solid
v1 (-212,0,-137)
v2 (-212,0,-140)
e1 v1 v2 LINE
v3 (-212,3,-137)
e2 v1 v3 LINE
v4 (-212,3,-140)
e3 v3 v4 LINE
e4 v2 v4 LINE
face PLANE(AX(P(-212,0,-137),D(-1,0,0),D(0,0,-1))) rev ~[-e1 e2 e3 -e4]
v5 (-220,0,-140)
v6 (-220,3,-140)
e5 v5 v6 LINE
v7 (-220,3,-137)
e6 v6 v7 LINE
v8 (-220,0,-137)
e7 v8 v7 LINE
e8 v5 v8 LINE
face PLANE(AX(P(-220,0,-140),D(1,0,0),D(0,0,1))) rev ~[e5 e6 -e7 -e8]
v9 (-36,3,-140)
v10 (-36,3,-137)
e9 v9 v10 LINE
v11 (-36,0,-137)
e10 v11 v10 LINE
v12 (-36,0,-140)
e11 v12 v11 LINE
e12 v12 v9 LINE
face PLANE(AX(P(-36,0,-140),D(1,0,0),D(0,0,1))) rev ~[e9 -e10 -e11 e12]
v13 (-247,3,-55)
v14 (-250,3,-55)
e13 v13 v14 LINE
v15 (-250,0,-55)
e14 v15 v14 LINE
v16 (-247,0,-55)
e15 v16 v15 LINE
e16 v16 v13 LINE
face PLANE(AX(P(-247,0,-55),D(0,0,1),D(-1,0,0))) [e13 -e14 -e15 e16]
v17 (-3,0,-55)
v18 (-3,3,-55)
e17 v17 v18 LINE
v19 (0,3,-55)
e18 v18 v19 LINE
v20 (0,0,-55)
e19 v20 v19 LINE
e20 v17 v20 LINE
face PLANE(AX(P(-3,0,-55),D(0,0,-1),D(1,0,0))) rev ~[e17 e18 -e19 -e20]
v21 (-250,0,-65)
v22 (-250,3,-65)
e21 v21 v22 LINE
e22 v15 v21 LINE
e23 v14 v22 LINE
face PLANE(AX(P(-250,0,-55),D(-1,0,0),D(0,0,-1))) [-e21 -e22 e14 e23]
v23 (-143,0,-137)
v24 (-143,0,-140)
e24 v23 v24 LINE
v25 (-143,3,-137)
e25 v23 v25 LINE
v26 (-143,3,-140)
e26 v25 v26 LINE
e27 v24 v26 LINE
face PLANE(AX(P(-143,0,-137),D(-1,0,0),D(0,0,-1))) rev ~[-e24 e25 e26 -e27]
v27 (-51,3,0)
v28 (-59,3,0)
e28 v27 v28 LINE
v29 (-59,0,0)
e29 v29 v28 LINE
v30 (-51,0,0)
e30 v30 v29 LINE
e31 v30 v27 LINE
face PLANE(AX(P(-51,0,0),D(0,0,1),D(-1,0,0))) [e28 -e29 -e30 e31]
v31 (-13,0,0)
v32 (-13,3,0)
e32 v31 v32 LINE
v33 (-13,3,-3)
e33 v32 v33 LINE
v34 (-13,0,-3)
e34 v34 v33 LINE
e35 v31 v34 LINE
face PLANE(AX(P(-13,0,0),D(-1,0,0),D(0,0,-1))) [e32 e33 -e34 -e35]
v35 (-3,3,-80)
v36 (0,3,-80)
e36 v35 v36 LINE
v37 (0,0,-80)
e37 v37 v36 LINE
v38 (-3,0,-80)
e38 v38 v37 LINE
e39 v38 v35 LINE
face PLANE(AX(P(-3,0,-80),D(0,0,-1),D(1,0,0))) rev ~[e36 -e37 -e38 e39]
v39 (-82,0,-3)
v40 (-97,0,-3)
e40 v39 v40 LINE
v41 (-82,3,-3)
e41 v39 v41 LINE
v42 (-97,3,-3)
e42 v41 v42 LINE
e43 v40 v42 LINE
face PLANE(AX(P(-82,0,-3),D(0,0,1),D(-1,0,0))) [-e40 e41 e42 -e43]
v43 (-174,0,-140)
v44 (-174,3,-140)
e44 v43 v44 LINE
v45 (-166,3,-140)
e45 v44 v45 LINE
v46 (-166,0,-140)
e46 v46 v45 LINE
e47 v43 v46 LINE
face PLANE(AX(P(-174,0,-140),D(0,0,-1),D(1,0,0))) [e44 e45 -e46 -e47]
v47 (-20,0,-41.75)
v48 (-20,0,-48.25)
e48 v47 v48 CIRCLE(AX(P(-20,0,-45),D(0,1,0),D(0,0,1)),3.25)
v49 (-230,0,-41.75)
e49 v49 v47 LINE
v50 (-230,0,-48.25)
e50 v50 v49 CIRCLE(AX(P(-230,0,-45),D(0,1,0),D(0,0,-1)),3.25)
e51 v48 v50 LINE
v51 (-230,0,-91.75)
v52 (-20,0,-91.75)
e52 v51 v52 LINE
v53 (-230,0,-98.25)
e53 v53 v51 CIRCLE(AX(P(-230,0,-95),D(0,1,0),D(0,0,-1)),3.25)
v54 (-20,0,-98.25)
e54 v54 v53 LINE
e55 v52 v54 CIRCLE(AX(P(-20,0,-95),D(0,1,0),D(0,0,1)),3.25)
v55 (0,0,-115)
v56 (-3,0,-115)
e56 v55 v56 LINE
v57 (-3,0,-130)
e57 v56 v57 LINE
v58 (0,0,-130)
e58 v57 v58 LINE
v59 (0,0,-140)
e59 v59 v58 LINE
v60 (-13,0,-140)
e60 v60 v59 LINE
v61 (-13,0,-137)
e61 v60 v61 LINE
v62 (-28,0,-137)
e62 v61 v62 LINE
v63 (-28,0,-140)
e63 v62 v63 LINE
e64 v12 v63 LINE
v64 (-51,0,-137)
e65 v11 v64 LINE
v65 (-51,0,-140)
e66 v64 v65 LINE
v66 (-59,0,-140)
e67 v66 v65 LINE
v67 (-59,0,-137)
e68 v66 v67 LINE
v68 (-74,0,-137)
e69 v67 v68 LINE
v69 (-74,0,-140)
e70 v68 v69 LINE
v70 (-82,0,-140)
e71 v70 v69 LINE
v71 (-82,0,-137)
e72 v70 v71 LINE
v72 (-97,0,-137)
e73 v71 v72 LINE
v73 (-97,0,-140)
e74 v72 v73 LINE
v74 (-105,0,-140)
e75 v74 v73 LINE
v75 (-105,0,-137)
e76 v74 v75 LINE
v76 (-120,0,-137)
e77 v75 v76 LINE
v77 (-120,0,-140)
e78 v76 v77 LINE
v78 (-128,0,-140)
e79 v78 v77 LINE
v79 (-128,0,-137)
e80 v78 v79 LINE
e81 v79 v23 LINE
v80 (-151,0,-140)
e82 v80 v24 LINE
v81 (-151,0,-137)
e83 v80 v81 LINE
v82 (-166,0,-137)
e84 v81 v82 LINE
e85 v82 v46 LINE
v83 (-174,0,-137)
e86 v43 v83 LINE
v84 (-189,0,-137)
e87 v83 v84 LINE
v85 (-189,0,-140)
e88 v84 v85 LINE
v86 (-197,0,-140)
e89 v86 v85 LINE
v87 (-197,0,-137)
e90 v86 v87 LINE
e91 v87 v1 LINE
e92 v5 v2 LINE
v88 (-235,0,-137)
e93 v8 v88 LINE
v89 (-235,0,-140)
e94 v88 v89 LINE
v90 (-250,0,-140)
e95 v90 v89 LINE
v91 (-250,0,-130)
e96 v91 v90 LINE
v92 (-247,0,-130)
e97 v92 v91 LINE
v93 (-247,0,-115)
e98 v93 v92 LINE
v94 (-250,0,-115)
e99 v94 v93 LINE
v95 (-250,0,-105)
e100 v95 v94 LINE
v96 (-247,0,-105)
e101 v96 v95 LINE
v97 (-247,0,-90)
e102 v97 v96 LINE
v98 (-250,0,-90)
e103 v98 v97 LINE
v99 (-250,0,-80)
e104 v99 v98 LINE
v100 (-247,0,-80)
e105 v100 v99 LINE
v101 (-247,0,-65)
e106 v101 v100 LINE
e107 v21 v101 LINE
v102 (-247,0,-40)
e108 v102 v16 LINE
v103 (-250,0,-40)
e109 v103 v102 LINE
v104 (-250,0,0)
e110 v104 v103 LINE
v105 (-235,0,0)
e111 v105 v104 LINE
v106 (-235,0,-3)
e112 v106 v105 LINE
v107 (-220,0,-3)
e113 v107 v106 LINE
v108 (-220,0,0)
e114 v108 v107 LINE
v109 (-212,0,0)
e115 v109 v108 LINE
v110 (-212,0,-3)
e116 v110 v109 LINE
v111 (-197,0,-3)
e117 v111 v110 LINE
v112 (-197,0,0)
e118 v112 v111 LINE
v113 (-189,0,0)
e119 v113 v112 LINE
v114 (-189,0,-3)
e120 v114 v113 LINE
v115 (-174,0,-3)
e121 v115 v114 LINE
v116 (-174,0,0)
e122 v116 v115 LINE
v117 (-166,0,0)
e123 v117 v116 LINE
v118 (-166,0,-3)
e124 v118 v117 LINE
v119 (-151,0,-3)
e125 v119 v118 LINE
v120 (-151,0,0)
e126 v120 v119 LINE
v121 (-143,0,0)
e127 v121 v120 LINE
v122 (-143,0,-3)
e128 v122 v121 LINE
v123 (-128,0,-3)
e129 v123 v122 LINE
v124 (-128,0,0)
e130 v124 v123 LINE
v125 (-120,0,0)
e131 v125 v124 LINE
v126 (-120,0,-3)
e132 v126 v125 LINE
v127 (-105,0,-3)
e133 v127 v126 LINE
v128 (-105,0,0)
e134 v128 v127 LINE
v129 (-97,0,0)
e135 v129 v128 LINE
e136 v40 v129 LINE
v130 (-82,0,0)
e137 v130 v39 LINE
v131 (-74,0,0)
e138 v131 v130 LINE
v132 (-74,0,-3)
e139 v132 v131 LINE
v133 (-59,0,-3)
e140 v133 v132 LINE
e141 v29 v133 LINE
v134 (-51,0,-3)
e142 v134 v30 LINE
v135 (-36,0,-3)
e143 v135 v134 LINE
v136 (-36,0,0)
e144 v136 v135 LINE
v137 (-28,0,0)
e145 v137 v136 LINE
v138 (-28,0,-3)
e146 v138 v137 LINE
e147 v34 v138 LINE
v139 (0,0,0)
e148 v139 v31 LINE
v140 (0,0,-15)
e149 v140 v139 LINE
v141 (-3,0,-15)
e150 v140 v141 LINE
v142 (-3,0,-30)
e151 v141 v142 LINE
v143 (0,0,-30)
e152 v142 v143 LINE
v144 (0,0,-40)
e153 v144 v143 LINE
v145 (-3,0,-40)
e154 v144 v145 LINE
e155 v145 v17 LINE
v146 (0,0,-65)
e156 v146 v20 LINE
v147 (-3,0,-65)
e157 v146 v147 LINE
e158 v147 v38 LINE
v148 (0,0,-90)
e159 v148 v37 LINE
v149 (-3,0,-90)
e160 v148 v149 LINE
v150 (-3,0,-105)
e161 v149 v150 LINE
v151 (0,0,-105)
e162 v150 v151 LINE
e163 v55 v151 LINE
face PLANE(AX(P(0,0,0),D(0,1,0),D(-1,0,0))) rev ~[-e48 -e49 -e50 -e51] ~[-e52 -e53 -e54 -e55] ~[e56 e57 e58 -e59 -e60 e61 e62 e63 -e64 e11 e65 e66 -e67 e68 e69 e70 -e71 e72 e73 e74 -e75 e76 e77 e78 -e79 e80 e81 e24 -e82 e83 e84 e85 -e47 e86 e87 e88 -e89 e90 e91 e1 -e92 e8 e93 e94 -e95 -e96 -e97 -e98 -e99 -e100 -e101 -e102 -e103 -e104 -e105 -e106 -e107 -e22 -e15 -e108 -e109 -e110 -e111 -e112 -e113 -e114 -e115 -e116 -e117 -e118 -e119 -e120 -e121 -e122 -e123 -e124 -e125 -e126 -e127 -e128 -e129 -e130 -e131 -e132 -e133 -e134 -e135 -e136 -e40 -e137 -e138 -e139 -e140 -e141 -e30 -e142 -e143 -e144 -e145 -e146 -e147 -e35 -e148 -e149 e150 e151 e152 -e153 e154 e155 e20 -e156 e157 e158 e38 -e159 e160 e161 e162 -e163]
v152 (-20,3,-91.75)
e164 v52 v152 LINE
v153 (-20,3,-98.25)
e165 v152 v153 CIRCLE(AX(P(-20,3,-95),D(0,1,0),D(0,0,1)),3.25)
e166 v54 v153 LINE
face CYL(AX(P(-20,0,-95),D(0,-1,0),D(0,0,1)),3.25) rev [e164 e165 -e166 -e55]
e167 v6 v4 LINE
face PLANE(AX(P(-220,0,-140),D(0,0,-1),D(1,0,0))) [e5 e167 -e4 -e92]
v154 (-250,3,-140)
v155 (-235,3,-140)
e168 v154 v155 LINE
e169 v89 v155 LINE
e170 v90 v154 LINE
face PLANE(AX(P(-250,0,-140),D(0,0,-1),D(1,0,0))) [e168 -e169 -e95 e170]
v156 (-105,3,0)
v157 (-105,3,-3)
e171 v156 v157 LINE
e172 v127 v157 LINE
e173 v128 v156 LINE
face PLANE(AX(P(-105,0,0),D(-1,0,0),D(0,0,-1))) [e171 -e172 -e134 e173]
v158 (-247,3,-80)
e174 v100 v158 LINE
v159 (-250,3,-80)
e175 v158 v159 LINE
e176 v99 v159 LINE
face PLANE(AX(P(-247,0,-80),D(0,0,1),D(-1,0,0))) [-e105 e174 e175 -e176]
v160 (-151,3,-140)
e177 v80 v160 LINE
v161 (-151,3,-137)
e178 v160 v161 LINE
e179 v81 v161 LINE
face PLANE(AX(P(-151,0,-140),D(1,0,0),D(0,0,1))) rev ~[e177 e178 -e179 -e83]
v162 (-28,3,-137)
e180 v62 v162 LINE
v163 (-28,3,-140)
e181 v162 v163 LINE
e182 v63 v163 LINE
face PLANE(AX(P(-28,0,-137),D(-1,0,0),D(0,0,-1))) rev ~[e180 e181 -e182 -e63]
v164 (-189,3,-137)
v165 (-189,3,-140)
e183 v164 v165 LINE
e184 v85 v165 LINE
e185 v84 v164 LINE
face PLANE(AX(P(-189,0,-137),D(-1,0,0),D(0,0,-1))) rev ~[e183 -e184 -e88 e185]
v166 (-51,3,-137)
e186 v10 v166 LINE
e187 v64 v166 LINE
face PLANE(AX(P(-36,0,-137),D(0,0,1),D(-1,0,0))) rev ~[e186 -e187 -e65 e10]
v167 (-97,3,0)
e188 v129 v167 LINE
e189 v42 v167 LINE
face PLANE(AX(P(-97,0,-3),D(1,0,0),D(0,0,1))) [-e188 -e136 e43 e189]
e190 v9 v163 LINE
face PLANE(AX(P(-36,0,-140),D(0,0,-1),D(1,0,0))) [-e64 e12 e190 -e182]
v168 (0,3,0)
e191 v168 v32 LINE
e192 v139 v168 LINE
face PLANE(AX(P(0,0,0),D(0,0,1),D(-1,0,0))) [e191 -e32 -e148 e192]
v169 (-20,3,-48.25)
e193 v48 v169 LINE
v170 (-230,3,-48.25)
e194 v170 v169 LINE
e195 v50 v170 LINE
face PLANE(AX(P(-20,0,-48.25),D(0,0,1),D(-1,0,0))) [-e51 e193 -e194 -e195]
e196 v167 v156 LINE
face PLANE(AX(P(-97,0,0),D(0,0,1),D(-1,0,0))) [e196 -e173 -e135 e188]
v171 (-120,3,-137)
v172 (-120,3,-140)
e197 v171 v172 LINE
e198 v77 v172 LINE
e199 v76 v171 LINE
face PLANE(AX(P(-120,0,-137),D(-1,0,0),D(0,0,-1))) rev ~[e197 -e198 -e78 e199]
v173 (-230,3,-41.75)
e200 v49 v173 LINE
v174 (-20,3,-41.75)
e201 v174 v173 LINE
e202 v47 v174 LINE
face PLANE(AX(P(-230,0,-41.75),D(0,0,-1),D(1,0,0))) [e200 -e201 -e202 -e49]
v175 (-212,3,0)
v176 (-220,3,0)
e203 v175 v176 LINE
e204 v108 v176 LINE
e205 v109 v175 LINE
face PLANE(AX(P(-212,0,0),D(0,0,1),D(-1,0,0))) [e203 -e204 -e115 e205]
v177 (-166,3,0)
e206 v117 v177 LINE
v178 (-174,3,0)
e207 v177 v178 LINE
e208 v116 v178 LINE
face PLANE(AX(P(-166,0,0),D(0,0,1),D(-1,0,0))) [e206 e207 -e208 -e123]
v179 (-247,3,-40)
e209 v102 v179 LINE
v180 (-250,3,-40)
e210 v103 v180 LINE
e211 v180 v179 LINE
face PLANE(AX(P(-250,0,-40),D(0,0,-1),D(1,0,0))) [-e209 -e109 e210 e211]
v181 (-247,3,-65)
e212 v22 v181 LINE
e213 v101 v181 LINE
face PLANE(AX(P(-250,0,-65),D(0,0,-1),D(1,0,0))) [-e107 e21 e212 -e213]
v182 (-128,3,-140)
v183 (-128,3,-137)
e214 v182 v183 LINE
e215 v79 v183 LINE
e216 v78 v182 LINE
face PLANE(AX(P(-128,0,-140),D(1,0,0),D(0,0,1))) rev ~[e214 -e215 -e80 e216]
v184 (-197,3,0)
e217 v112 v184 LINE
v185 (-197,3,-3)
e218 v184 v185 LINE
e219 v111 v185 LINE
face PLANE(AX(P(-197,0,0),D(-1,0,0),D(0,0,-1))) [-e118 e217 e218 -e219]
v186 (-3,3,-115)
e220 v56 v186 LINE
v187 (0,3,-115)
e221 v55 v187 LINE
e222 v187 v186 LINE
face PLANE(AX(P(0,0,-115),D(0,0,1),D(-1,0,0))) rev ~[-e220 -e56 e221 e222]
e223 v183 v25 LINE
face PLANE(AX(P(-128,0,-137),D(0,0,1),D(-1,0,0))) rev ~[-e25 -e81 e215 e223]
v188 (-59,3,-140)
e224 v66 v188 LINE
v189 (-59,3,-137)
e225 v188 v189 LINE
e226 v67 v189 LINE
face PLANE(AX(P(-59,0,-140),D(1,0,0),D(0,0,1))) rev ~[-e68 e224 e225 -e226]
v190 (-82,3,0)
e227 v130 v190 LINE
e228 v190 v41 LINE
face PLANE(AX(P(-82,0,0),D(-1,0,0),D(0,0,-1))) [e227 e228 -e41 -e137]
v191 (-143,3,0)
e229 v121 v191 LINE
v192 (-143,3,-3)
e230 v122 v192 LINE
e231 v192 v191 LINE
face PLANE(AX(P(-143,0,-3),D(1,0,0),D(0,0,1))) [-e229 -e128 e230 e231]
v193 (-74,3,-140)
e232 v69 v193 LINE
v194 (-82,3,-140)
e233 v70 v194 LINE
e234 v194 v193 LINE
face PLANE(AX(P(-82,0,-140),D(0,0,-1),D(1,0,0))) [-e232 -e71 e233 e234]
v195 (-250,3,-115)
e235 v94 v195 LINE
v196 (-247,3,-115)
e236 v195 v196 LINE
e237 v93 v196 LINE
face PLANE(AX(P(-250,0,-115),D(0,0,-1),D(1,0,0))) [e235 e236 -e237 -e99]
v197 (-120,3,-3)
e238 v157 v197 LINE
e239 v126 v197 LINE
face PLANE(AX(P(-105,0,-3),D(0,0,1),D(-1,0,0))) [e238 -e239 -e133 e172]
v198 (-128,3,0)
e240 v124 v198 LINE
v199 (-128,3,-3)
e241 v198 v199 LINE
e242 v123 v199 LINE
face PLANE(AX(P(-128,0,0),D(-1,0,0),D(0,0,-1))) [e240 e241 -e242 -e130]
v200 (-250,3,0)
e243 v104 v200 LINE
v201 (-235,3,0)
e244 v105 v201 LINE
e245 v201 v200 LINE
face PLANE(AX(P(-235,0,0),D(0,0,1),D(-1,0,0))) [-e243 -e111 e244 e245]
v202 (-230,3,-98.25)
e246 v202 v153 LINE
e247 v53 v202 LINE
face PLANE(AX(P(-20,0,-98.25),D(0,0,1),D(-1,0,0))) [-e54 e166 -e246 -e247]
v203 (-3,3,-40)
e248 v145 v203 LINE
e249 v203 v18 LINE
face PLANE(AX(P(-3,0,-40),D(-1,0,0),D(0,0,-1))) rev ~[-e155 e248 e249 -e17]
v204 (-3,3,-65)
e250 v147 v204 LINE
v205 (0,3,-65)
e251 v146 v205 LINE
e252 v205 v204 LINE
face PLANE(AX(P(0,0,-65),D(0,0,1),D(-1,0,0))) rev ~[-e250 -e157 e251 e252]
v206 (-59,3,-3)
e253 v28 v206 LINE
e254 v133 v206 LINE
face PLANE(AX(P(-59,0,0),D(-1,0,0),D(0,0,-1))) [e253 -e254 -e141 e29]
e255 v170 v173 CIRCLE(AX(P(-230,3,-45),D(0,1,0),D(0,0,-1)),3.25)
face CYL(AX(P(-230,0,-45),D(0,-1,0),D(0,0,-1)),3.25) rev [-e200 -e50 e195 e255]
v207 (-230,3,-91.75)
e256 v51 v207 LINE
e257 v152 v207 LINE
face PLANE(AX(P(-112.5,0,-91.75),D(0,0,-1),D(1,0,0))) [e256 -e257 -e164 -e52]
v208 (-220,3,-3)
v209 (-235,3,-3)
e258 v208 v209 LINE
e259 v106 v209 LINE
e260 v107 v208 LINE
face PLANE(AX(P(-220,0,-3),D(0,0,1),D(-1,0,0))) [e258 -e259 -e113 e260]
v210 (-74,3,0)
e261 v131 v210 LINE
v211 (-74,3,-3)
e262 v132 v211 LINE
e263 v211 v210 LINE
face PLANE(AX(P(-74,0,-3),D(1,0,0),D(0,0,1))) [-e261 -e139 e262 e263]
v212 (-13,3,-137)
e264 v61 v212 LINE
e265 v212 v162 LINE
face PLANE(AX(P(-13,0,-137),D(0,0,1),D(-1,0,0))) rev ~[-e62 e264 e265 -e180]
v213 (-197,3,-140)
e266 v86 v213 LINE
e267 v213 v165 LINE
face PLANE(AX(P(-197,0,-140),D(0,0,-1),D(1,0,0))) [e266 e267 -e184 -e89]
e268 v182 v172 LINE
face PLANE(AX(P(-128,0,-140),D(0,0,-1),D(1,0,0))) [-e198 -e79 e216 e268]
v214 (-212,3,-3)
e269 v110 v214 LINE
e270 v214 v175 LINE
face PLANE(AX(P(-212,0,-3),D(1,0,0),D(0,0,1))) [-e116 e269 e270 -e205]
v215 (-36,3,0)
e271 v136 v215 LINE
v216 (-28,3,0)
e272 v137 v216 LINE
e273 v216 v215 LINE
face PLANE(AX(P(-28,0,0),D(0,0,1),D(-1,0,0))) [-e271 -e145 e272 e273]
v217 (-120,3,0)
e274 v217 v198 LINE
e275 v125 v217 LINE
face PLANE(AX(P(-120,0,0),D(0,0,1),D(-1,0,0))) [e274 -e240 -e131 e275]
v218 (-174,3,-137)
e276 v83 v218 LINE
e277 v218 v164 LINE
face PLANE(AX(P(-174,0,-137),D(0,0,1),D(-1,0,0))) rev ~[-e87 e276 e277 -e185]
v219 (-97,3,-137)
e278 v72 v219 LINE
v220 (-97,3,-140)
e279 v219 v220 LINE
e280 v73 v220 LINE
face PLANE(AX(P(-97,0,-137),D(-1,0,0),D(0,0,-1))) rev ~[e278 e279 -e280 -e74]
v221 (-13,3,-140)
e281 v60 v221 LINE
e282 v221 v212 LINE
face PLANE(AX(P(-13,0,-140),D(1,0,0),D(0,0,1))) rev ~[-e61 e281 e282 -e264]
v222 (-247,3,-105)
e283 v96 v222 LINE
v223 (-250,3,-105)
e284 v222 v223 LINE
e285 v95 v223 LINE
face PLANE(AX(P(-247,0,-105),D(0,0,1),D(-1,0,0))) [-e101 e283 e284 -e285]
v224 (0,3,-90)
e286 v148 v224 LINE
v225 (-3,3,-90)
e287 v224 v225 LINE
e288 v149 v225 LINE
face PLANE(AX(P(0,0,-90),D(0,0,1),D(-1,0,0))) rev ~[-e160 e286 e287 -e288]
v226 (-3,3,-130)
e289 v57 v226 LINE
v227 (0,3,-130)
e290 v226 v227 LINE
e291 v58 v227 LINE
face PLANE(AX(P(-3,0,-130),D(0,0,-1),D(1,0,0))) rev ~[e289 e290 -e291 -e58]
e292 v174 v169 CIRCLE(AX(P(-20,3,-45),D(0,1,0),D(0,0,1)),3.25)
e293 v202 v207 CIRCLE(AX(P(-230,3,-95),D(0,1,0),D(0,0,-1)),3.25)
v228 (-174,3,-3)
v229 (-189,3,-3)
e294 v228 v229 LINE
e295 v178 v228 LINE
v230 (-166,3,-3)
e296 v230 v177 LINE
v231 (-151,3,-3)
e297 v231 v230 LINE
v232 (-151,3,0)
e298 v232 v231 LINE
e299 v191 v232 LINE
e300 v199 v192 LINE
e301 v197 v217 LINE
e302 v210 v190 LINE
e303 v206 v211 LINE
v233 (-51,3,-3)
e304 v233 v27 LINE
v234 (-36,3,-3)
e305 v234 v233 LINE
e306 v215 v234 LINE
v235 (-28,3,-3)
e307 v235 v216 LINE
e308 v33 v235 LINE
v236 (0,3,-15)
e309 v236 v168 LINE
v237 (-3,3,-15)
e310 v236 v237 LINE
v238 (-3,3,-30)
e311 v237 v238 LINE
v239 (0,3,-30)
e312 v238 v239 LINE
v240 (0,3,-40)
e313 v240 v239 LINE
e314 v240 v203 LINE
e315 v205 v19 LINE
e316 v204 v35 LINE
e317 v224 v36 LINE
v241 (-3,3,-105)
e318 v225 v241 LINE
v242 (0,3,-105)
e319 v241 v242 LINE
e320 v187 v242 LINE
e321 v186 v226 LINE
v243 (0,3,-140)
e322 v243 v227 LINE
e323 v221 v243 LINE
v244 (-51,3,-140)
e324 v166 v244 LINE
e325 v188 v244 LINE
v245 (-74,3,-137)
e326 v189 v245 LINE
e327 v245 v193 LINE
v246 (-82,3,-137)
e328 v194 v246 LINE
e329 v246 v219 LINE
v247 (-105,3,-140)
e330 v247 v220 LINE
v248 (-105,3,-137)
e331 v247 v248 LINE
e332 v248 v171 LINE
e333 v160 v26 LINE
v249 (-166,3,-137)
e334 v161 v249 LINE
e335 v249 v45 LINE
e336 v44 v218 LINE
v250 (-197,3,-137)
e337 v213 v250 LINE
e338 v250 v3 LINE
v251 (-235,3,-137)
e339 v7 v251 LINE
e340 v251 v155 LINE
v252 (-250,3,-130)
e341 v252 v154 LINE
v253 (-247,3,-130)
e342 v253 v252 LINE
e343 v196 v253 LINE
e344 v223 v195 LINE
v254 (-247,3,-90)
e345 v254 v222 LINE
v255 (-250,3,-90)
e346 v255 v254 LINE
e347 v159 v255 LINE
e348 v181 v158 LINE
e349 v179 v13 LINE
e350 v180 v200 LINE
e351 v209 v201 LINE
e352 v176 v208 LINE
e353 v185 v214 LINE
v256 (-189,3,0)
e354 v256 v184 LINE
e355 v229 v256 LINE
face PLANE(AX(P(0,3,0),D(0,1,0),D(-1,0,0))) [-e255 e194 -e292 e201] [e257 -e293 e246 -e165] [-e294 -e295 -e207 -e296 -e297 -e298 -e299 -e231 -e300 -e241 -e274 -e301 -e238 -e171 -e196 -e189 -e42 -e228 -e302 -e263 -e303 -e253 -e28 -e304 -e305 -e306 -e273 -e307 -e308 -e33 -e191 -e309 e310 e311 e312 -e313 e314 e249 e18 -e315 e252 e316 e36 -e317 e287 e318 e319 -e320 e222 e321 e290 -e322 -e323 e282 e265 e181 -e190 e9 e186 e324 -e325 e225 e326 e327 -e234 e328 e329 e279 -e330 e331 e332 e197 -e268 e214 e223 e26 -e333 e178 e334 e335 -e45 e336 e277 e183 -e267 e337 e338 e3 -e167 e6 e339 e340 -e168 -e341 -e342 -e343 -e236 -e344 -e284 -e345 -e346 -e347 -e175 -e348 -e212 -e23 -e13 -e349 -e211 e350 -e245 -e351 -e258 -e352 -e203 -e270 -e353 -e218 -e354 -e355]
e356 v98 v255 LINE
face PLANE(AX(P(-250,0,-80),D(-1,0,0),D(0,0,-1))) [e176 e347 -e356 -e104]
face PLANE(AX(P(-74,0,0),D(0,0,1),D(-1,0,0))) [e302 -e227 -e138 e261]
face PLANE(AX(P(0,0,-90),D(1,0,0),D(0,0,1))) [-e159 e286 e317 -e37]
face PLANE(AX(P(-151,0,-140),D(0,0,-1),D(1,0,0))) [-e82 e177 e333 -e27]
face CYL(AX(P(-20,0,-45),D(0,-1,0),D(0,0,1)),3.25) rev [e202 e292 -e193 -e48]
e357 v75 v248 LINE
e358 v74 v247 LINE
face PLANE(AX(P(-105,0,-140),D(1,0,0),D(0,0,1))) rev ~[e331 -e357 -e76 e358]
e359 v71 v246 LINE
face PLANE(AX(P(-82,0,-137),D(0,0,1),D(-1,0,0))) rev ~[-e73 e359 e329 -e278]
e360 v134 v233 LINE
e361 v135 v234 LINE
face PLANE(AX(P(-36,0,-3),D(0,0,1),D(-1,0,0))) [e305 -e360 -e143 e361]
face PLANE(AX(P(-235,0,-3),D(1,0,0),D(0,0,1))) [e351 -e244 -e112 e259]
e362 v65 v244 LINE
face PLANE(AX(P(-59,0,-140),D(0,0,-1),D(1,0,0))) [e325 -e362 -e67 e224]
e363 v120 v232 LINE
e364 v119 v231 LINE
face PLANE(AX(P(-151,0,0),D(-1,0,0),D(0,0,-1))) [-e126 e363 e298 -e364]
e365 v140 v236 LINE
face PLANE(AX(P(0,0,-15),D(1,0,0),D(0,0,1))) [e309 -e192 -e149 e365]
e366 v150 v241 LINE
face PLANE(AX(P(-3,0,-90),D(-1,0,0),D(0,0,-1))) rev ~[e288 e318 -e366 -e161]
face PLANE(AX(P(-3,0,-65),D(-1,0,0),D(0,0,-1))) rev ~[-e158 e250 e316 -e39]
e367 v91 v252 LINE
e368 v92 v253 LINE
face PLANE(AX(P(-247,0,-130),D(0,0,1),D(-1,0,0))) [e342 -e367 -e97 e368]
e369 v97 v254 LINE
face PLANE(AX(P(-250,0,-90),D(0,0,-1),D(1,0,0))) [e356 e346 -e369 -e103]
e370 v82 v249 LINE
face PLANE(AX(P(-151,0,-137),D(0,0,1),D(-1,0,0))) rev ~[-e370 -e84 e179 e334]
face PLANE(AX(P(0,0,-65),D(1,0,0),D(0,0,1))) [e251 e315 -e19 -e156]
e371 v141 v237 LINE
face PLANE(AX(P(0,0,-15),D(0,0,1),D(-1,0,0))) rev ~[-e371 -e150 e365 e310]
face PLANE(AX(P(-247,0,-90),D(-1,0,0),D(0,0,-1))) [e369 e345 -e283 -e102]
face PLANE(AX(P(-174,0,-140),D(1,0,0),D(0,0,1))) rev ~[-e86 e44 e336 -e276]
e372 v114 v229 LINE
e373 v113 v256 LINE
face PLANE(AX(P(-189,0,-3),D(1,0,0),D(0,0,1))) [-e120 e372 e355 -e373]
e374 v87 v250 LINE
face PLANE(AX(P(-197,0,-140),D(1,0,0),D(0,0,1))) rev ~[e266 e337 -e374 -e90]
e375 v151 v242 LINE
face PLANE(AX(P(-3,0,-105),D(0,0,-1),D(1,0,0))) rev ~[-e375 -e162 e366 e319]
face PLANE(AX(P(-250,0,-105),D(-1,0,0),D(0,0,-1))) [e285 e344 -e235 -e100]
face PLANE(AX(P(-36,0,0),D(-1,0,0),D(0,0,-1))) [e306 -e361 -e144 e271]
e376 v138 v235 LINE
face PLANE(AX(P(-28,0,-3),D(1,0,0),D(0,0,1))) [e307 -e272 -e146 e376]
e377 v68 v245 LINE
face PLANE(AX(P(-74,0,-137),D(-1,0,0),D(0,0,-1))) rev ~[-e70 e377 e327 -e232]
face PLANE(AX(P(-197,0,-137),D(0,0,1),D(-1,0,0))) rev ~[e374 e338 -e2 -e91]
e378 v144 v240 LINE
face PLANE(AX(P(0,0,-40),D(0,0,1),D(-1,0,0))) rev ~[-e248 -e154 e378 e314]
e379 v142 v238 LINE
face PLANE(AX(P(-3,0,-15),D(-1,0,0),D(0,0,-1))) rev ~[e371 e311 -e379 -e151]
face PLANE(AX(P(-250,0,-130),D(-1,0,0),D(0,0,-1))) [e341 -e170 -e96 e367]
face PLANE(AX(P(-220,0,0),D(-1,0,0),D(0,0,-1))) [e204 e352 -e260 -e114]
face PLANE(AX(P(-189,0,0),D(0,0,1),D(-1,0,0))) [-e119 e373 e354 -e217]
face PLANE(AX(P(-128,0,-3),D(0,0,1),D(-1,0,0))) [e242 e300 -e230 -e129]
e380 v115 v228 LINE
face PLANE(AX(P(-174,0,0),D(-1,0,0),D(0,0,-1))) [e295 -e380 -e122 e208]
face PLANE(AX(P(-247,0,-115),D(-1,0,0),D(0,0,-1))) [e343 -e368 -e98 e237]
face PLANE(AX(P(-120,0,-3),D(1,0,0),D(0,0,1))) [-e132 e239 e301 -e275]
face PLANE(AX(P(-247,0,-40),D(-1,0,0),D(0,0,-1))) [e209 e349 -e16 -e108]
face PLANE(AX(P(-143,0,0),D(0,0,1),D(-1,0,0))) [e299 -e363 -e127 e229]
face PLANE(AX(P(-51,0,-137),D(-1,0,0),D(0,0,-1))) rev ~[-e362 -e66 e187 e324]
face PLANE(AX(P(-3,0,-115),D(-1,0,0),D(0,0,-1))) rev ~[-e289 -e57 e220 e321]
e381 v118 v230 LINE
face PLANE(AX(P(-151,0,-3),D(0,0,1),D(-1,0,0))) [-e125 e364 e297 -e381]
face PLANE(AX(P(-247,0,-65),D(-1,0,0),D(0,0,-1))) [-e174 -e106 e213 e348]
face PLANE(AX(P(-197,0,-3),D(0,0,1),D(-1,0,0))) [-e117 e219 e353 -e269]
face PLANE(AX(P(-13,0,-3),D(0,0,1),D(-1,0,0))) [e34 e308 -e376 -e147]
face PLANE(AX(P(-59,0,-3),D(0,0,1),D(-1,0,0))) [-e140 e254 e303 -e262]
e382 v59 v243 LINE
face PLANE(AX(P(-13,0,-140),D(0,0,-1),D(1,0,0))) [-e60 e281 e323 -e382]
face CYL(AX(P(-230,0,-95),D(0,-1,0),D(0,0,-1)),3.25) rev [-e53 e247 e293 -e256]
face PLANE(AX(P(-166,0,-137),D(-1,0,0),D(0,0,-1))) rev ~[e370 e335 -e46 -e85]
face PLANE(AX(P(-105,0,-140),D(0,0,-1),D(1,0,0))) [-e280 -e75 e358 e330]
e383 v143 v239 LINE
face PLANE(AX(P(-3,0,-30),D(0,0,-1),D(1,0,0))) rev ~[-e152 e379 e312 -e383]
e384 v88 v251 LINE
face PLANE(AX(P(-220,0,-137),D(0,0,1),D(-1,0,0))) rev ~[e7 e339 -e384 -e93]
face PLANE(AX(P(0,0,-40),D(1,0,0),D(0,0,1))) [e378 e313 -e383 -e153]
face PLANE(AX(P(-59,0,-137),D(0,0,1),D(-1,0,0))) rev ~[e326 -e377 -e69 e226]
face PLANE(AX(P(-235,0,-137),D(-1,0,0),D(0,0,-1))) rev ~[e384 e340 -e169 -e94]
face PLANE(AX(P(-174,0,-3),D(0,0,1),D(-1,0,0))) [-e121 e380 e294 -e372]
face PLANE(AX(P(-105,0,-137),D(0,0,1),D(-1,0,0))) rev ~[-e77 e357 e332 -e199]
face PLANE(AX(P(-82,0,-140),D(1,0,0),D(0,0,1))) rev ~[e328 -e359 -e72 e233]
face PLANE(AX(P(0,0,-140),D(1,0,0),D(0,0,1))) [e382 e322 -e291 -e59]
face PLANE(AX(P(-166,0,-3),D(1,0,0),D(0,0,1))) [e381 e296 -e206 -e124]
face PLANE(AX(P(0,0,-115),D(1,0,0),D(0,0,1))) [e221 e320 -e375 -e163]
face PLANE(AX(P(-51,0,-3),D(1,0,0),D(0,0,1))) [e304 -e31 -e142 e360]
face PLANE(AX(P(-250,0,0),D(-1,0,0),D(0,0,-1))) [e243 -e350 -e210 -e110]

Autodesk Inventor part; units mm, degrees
ref_plane "YZ Plane" through (0, 0, 0) normal (1, 0, 0) x (0, 1, 0)
ref_plane "XZ Plane" through (0, 0, 0) normal (0, 1, 0) x (-1, 0, 0)
ref_plane "XY Plane" through (0, 0, 0) normal (0, 0, 1) x (1, 0, 0)
sketch "Boceto1" plane through (0, 0, 0) normal (0, 1, 0) x (-1, 0, 0)
  line L0 (0, 0) -> (250, 0)
  line L1 (250, 0) -> (250, -140)
  line L2 (250, -140) -> (0, -140)
  line L3 (0, -140) -> (0, 0)
  line L4 (250, -15) -> (247, -15)
  line L5 (247, -15) -> (247, -30)
  line L6 (247, -30) -> (250, -30)
  line L7 (250, -30) -> (250, -15)
  line L8 (125, 0) -> (125, -140) construction
  line L9 (250, -70) -> (0, -70) construction
  line L10 (250, -40) -> (247, -40)
  line L11 (247, -40) -> (247, -55)
  line L12 (247, -55) -> (250, -55)
  line L13 (250, -55) -> (250, -40)
  line L14 (250, -65) -> (247, -65)
  line L15 (247, -65) -> (247, -80)
  line L16 (247, -80) -> (250, -80)
  line L17 (250, -80) -> (250, -65)
  line L18 (250, -90) -> (247, -90)
  line L19 (247, -90) -> (247, -105)
  line L20 (247, -105) -> (250, -105)
  line L21 (250, -105) -> (250, -90)
  line L22 (250, -115) -> (247, -115)
  line L23 (247, -115) -> (247, -130)
  line L24 (247, -130) -> (250, -130)
  line L25 (250, -130) -> (250, -115)
  line L26 (235, 0) -> (220, 0)
  line L27 (220, 0) -> (220, -3)
  line L28 (220, -3) -> (235, -3)
  line L29 (235, -3) -> (235, 0)
  line L30 (197, -3) -> (212, -3)
  line L31 (212, -3) -> (212, 0)
  line L32 (212, 0) -> (197, 0)
  line L33 (197, 0) -> (197, -3)
  line L34 (174, -3) -> (189, -3)
  line L35 (189, -3) -> (189, 0)
  line L36 (189, 0) -> (174, 0)
  line L37 (174, 0) -> (174, -3)
  line L38 (151, -3) -> (166, -3)
  line L39 (166, -3) -> (166, 0)
  line L40 (166, 0) -> (151, 0)
  line L41 (151, 0) -> (151, -3)
  line L42 (128, -3) -> (143, -3)
  line L43 (143, -3) -> (143, 0)
  line L44 (143, 0) -> (128, 0)
  line L45 (128, 0) -> (128, -3)
  line L46 (105, -3) -> (120, -3)
  line L47 (120, -3) -> (120, 0)
  line L48 (120, 0) -> (105, 0)
  line L49 (105, 0) -> (105, -3)
  line L50 (82, -3) -> (97, -3)
  line L51 (97, -3) -> (97, 0)
  line L52 (97, 0) -> (82, 0)
  line L53 (82, 0) -> (82, -3)
  line L54 (59, -3) -> (74, -3)
  line L55 (74, -3) -> (74, 0)
  line L56 (74, 0) -> (59, 0)
  line L57 (59, 0) -> (59, -3)
  line L58 (36, -3) -> (51, -3)
  line L59 (51, -3) -> (51, 0)
  line L60 (51, 0) -> (36, 0)
  line L61 (36, 0) -> (36, -3)
  line L62 (13, -3) -> (28, -3)
  line L63 (28, -3) -> (28, 0)
  line L64 (28, 0) -> (13, 0)
  line L65 (13, 0) -> (13, -3)
  line L66 (235, -140) -> (220, -140)
  line L67 (220, -140) -> (220, -137)
  line L68 (220, -137) -> (235, -137)
  line L69 (235, -137) -> (235, -140)
  line L70 (197, -137) -> (212, -137)
  line L71 (212, -137) -> (212, -140)
  line L72 (212, -140) -> (197, -140)
  line L73 (197, -140) -> (197, -137)
  line L74 (174, -137) -> (189, -137)
  line L75 (189, -137) -> (189, -140)
  line L76 (189, -140) -> (174, -140)
  line L77 (174, -140) -> (174, -137)
  line L78 (151, -137) -> (166, -137)
  line L79 (166, -137) -> (166, -140)
  line L80 (166, -140) -> (151, -140)
  line L81 (151, -140) -> (151, -137)
  line L82 (128, -137) -> (143, -137)
  line L83 (143, -137) -> (143, -140)
  line L84 (143, -140) -> (128, -140)
  line L85 (128, -140) -> (128, -137)
  line L86 (105, -137) -> (120, -137)
  line L87 (120, -137) -> (120, -140)
  line L88 (120, -140) -> (105, -140)
  line L89 (105, -140) -> (105, -137)
  line L90 (82, -137) -> (97, -137)
  line L91 (97, -137) -> (97, -140)
  line L92 (97, -140) -> (82, -140)
  line L93 (82, -140) -> (82, -137)
  line L94 (59, -137) -> (74, -137)
  line L95 (74, -137) -> (74, -140)
  line L96 (74, -140) -> (59, -140)
  line L97 (59, -140) -> (59, -137)
  line L98 (36, -137) -> (51, -137)
  line L99 (51, -137) -> (51, -140)
  line L100 (51, -140) -> (36, -140)
  line L101 (36, -140) -> (36, -137)
  line L102 (13, -137) -> (28, -137)
  line L103 (28, -137) -> (28, -140)
  line L104 (28, -140) -> (13, -140)
  line L105 (13, -140) -> (13, -137)
  line L106 (0, -15) -> (3, -15)
  line L107 (3, -15) -> (3, -30)
  line L108 (3, -30) -> (0, -30)
  line L109 (0, -30) -> (0, -15)
  line L110 (0, -40) -> (3, -40)
  line L111 (3, -40) -> (3, -55)
  line L112 (3, -55) -> (0, -55)
  line L113 (0, -55) -> (0, -40)
  line L114 (0, -65) -> (3, -65)
  line L115 (3, -65) -> (3, -80)
  line L116 (3, -80) -> (0, -80)
  line L117 (0, -80) -> (0, -65)
  line L118 (0, -90) -> (3, -90)
  line L119 (3, -90) -> (3, -105)
  line L120 (3, -105) -> (0, -105)
  line L121 (0, -105) -> (0, -90)
  line L122 (0, -115) -> (3, -115)
  line L123 (3, -115) -> (3, -130)
  line L124 (3, -130) -> (0, -130)
  line L125 (0, -130) -> (0, -115)
  line L126 (20, -45) -> (230, -45) construction
  line L127 (20, -48.25) -> (230, -48.25)
  line L128 (230, -41.75) -> (20, -41.75)
  arc A0 (20, -41.75) -> (20, -48.25) centre (20, -45) ccw
  arc A1 (230, -48.25) -> (230, -41.75) centre (230, -45) ccw
  line L129 (20, -95) -> (230, -95) construction
  line L130 (20, -98.25) -> (230, -98.25)
  line L131 (230, -91.75) -> (20, -91.75)
  arc A2 (20, -91.75) -> (20, -98.25) centre (20, -95) ccw
  arc A3 (230, -98.25) -> (230, -91.75) centre (230, -95) ccw
  line L132 (112.5, -20) -> (137.5, -20)
  line L133 (137.5, -20) -> (137.5, -120)
  line L134 (137.5, -120) -> (112.5, -120)
  line L135 (112.5, -120) -> (112.5, -20)
  line L136 (112.5, -20) -> (137.5, -120) construction
  line L137 (137.5, -20) -> (112.5, -120) construction
  point P0 (248.5, -15)
  point P1 (248.5, -40)
  point P2 (248.5, -65)
  point P3 (248.5, -90)
  point P4 (248.5, -115)
  point P5 (235, -1.5)
  point P6 (212, -1.5)
  point P7 (189, -1.5)
  point P8 (166, -1.5)
  point P9 (143, -1.5)
  point P10 (120, -1.5)
  point P11 (97, -1.5)
  point P12 (74, -1.5)
  point P13 (51, -1.5)
  point P14 (28, -1.5)
  point P15 (235, -138.5)
  point P16 (212, -138.5)
  point P17 (189, -138.5)
  point P18 (166, -138.5)
  point P19 (143, -138.5)
  point P20 (120, -138.5)
  point P21 (97, -138.5)
  point P22 (74, -138.5)
  point P23 (51, -138.5)
  point P24 (28, -138.5)
  point P25 (1.5, -15)
  point P26 (1.5, -40)
  point P27 (1.5, -65)
  point P28 (1.5, -90)
  point P29 (1.5, -115)
  point P30 (220, 0)
  point P31 (212, 0)
  point P32 (197, 0)
  point P33 (189, 0)
  point P34 (174, 0)
  point P35 (166, 0)
  point P36 (151, 0)
  point P37 (143, 0)
  point P38 (128, 0)
  point P39 (120, 0)
  point P40 (105, 0)
  point P41 (97, 0)
  point P42 (82, 0)
  point P43 (74, 0)
  point P44 (59, 0)
  point P45 (51, 0)
  point P46 (36, 0)
  point P47 (28, 0)
  point P48 (13, 0)
  point P49 (13, -140)
  point P50 (28, -140)
  point P51 (51, -140)
  point P52 (59, -140)
  point P53 (74, -140)
  point P54 (82, -140)
  point P55 (97, -140)
  point P56 (105, -140)
  point P57 (120, -140)
  point P58 (128, -140)
  point P59 (143, -140)
  point P60 (151, -140)
  point P61 (166, -140)
  point P62 (174, -140)
  point P63 (189, -140)
  point P64 (212, -140)
  point P65 (220, -140)
  point P66 (235, -140)
  point P67 (250, -130)
  point P68 (250, -105)
  point P69 (250, -80)
  point P70 (250, -55)
  point P71 (250, -30)
  point P72 (125, -45)
  point P73 (125, -95)
  point P74 (125, -70)
  point P75 (125, -70)
  dimension "d0" = 250
  dimension "d1" = 140
  dimension "d2" = 3
  dimension "d3" = 15
  dimension "d4" = 15
  dimension "d7" = 25
  dimension "d12" = 15
  dimension "d13" = 3
  dimension "d14" = 15
  dimension "d17" = 23
  dimension "d24" = 25
  dimension "d25" = 25
  dimension "d26" = 105
  dimension "d27" = 6.5
  dimension "d28" = 105
  dimension "d29" = 6.5
  dimension "d30" = 25
  dimension "d31" = 100
extrude "Extrusión1" add sketch "Boceto1" along normal blind 3 contours L0 L65 L62 L63 L61 L58 L59 L57 L54 L55 L53 L50 L51 L49 L46 L47 L45 L42 L43 L41 L38 L39 L37 L34 L35 L33 L30 L31 L27 L28 L29 L1 L4 L5 L6 L10 L11 L12 L14 L15 L16 L18 L19 L20 L22 L23 L24 L2 L69 L68 L67 L71 L70 L73 L75 L74 L77 L79 L78 L81 L83 L82 L85 L87 L86 L89 L91 L90 L93 L95 L94 L97 L99 L98 L101 L103 L102 L105 L3 L124 L123 L122 L120 L119 L118 L116 L115 L114 L112 L111 L110 L108 L107 L106 | L1 L6 L5 L4 | L127 L133 L131 L135 | L135 L132 L133 L128 | L130 L133 L134 L135
